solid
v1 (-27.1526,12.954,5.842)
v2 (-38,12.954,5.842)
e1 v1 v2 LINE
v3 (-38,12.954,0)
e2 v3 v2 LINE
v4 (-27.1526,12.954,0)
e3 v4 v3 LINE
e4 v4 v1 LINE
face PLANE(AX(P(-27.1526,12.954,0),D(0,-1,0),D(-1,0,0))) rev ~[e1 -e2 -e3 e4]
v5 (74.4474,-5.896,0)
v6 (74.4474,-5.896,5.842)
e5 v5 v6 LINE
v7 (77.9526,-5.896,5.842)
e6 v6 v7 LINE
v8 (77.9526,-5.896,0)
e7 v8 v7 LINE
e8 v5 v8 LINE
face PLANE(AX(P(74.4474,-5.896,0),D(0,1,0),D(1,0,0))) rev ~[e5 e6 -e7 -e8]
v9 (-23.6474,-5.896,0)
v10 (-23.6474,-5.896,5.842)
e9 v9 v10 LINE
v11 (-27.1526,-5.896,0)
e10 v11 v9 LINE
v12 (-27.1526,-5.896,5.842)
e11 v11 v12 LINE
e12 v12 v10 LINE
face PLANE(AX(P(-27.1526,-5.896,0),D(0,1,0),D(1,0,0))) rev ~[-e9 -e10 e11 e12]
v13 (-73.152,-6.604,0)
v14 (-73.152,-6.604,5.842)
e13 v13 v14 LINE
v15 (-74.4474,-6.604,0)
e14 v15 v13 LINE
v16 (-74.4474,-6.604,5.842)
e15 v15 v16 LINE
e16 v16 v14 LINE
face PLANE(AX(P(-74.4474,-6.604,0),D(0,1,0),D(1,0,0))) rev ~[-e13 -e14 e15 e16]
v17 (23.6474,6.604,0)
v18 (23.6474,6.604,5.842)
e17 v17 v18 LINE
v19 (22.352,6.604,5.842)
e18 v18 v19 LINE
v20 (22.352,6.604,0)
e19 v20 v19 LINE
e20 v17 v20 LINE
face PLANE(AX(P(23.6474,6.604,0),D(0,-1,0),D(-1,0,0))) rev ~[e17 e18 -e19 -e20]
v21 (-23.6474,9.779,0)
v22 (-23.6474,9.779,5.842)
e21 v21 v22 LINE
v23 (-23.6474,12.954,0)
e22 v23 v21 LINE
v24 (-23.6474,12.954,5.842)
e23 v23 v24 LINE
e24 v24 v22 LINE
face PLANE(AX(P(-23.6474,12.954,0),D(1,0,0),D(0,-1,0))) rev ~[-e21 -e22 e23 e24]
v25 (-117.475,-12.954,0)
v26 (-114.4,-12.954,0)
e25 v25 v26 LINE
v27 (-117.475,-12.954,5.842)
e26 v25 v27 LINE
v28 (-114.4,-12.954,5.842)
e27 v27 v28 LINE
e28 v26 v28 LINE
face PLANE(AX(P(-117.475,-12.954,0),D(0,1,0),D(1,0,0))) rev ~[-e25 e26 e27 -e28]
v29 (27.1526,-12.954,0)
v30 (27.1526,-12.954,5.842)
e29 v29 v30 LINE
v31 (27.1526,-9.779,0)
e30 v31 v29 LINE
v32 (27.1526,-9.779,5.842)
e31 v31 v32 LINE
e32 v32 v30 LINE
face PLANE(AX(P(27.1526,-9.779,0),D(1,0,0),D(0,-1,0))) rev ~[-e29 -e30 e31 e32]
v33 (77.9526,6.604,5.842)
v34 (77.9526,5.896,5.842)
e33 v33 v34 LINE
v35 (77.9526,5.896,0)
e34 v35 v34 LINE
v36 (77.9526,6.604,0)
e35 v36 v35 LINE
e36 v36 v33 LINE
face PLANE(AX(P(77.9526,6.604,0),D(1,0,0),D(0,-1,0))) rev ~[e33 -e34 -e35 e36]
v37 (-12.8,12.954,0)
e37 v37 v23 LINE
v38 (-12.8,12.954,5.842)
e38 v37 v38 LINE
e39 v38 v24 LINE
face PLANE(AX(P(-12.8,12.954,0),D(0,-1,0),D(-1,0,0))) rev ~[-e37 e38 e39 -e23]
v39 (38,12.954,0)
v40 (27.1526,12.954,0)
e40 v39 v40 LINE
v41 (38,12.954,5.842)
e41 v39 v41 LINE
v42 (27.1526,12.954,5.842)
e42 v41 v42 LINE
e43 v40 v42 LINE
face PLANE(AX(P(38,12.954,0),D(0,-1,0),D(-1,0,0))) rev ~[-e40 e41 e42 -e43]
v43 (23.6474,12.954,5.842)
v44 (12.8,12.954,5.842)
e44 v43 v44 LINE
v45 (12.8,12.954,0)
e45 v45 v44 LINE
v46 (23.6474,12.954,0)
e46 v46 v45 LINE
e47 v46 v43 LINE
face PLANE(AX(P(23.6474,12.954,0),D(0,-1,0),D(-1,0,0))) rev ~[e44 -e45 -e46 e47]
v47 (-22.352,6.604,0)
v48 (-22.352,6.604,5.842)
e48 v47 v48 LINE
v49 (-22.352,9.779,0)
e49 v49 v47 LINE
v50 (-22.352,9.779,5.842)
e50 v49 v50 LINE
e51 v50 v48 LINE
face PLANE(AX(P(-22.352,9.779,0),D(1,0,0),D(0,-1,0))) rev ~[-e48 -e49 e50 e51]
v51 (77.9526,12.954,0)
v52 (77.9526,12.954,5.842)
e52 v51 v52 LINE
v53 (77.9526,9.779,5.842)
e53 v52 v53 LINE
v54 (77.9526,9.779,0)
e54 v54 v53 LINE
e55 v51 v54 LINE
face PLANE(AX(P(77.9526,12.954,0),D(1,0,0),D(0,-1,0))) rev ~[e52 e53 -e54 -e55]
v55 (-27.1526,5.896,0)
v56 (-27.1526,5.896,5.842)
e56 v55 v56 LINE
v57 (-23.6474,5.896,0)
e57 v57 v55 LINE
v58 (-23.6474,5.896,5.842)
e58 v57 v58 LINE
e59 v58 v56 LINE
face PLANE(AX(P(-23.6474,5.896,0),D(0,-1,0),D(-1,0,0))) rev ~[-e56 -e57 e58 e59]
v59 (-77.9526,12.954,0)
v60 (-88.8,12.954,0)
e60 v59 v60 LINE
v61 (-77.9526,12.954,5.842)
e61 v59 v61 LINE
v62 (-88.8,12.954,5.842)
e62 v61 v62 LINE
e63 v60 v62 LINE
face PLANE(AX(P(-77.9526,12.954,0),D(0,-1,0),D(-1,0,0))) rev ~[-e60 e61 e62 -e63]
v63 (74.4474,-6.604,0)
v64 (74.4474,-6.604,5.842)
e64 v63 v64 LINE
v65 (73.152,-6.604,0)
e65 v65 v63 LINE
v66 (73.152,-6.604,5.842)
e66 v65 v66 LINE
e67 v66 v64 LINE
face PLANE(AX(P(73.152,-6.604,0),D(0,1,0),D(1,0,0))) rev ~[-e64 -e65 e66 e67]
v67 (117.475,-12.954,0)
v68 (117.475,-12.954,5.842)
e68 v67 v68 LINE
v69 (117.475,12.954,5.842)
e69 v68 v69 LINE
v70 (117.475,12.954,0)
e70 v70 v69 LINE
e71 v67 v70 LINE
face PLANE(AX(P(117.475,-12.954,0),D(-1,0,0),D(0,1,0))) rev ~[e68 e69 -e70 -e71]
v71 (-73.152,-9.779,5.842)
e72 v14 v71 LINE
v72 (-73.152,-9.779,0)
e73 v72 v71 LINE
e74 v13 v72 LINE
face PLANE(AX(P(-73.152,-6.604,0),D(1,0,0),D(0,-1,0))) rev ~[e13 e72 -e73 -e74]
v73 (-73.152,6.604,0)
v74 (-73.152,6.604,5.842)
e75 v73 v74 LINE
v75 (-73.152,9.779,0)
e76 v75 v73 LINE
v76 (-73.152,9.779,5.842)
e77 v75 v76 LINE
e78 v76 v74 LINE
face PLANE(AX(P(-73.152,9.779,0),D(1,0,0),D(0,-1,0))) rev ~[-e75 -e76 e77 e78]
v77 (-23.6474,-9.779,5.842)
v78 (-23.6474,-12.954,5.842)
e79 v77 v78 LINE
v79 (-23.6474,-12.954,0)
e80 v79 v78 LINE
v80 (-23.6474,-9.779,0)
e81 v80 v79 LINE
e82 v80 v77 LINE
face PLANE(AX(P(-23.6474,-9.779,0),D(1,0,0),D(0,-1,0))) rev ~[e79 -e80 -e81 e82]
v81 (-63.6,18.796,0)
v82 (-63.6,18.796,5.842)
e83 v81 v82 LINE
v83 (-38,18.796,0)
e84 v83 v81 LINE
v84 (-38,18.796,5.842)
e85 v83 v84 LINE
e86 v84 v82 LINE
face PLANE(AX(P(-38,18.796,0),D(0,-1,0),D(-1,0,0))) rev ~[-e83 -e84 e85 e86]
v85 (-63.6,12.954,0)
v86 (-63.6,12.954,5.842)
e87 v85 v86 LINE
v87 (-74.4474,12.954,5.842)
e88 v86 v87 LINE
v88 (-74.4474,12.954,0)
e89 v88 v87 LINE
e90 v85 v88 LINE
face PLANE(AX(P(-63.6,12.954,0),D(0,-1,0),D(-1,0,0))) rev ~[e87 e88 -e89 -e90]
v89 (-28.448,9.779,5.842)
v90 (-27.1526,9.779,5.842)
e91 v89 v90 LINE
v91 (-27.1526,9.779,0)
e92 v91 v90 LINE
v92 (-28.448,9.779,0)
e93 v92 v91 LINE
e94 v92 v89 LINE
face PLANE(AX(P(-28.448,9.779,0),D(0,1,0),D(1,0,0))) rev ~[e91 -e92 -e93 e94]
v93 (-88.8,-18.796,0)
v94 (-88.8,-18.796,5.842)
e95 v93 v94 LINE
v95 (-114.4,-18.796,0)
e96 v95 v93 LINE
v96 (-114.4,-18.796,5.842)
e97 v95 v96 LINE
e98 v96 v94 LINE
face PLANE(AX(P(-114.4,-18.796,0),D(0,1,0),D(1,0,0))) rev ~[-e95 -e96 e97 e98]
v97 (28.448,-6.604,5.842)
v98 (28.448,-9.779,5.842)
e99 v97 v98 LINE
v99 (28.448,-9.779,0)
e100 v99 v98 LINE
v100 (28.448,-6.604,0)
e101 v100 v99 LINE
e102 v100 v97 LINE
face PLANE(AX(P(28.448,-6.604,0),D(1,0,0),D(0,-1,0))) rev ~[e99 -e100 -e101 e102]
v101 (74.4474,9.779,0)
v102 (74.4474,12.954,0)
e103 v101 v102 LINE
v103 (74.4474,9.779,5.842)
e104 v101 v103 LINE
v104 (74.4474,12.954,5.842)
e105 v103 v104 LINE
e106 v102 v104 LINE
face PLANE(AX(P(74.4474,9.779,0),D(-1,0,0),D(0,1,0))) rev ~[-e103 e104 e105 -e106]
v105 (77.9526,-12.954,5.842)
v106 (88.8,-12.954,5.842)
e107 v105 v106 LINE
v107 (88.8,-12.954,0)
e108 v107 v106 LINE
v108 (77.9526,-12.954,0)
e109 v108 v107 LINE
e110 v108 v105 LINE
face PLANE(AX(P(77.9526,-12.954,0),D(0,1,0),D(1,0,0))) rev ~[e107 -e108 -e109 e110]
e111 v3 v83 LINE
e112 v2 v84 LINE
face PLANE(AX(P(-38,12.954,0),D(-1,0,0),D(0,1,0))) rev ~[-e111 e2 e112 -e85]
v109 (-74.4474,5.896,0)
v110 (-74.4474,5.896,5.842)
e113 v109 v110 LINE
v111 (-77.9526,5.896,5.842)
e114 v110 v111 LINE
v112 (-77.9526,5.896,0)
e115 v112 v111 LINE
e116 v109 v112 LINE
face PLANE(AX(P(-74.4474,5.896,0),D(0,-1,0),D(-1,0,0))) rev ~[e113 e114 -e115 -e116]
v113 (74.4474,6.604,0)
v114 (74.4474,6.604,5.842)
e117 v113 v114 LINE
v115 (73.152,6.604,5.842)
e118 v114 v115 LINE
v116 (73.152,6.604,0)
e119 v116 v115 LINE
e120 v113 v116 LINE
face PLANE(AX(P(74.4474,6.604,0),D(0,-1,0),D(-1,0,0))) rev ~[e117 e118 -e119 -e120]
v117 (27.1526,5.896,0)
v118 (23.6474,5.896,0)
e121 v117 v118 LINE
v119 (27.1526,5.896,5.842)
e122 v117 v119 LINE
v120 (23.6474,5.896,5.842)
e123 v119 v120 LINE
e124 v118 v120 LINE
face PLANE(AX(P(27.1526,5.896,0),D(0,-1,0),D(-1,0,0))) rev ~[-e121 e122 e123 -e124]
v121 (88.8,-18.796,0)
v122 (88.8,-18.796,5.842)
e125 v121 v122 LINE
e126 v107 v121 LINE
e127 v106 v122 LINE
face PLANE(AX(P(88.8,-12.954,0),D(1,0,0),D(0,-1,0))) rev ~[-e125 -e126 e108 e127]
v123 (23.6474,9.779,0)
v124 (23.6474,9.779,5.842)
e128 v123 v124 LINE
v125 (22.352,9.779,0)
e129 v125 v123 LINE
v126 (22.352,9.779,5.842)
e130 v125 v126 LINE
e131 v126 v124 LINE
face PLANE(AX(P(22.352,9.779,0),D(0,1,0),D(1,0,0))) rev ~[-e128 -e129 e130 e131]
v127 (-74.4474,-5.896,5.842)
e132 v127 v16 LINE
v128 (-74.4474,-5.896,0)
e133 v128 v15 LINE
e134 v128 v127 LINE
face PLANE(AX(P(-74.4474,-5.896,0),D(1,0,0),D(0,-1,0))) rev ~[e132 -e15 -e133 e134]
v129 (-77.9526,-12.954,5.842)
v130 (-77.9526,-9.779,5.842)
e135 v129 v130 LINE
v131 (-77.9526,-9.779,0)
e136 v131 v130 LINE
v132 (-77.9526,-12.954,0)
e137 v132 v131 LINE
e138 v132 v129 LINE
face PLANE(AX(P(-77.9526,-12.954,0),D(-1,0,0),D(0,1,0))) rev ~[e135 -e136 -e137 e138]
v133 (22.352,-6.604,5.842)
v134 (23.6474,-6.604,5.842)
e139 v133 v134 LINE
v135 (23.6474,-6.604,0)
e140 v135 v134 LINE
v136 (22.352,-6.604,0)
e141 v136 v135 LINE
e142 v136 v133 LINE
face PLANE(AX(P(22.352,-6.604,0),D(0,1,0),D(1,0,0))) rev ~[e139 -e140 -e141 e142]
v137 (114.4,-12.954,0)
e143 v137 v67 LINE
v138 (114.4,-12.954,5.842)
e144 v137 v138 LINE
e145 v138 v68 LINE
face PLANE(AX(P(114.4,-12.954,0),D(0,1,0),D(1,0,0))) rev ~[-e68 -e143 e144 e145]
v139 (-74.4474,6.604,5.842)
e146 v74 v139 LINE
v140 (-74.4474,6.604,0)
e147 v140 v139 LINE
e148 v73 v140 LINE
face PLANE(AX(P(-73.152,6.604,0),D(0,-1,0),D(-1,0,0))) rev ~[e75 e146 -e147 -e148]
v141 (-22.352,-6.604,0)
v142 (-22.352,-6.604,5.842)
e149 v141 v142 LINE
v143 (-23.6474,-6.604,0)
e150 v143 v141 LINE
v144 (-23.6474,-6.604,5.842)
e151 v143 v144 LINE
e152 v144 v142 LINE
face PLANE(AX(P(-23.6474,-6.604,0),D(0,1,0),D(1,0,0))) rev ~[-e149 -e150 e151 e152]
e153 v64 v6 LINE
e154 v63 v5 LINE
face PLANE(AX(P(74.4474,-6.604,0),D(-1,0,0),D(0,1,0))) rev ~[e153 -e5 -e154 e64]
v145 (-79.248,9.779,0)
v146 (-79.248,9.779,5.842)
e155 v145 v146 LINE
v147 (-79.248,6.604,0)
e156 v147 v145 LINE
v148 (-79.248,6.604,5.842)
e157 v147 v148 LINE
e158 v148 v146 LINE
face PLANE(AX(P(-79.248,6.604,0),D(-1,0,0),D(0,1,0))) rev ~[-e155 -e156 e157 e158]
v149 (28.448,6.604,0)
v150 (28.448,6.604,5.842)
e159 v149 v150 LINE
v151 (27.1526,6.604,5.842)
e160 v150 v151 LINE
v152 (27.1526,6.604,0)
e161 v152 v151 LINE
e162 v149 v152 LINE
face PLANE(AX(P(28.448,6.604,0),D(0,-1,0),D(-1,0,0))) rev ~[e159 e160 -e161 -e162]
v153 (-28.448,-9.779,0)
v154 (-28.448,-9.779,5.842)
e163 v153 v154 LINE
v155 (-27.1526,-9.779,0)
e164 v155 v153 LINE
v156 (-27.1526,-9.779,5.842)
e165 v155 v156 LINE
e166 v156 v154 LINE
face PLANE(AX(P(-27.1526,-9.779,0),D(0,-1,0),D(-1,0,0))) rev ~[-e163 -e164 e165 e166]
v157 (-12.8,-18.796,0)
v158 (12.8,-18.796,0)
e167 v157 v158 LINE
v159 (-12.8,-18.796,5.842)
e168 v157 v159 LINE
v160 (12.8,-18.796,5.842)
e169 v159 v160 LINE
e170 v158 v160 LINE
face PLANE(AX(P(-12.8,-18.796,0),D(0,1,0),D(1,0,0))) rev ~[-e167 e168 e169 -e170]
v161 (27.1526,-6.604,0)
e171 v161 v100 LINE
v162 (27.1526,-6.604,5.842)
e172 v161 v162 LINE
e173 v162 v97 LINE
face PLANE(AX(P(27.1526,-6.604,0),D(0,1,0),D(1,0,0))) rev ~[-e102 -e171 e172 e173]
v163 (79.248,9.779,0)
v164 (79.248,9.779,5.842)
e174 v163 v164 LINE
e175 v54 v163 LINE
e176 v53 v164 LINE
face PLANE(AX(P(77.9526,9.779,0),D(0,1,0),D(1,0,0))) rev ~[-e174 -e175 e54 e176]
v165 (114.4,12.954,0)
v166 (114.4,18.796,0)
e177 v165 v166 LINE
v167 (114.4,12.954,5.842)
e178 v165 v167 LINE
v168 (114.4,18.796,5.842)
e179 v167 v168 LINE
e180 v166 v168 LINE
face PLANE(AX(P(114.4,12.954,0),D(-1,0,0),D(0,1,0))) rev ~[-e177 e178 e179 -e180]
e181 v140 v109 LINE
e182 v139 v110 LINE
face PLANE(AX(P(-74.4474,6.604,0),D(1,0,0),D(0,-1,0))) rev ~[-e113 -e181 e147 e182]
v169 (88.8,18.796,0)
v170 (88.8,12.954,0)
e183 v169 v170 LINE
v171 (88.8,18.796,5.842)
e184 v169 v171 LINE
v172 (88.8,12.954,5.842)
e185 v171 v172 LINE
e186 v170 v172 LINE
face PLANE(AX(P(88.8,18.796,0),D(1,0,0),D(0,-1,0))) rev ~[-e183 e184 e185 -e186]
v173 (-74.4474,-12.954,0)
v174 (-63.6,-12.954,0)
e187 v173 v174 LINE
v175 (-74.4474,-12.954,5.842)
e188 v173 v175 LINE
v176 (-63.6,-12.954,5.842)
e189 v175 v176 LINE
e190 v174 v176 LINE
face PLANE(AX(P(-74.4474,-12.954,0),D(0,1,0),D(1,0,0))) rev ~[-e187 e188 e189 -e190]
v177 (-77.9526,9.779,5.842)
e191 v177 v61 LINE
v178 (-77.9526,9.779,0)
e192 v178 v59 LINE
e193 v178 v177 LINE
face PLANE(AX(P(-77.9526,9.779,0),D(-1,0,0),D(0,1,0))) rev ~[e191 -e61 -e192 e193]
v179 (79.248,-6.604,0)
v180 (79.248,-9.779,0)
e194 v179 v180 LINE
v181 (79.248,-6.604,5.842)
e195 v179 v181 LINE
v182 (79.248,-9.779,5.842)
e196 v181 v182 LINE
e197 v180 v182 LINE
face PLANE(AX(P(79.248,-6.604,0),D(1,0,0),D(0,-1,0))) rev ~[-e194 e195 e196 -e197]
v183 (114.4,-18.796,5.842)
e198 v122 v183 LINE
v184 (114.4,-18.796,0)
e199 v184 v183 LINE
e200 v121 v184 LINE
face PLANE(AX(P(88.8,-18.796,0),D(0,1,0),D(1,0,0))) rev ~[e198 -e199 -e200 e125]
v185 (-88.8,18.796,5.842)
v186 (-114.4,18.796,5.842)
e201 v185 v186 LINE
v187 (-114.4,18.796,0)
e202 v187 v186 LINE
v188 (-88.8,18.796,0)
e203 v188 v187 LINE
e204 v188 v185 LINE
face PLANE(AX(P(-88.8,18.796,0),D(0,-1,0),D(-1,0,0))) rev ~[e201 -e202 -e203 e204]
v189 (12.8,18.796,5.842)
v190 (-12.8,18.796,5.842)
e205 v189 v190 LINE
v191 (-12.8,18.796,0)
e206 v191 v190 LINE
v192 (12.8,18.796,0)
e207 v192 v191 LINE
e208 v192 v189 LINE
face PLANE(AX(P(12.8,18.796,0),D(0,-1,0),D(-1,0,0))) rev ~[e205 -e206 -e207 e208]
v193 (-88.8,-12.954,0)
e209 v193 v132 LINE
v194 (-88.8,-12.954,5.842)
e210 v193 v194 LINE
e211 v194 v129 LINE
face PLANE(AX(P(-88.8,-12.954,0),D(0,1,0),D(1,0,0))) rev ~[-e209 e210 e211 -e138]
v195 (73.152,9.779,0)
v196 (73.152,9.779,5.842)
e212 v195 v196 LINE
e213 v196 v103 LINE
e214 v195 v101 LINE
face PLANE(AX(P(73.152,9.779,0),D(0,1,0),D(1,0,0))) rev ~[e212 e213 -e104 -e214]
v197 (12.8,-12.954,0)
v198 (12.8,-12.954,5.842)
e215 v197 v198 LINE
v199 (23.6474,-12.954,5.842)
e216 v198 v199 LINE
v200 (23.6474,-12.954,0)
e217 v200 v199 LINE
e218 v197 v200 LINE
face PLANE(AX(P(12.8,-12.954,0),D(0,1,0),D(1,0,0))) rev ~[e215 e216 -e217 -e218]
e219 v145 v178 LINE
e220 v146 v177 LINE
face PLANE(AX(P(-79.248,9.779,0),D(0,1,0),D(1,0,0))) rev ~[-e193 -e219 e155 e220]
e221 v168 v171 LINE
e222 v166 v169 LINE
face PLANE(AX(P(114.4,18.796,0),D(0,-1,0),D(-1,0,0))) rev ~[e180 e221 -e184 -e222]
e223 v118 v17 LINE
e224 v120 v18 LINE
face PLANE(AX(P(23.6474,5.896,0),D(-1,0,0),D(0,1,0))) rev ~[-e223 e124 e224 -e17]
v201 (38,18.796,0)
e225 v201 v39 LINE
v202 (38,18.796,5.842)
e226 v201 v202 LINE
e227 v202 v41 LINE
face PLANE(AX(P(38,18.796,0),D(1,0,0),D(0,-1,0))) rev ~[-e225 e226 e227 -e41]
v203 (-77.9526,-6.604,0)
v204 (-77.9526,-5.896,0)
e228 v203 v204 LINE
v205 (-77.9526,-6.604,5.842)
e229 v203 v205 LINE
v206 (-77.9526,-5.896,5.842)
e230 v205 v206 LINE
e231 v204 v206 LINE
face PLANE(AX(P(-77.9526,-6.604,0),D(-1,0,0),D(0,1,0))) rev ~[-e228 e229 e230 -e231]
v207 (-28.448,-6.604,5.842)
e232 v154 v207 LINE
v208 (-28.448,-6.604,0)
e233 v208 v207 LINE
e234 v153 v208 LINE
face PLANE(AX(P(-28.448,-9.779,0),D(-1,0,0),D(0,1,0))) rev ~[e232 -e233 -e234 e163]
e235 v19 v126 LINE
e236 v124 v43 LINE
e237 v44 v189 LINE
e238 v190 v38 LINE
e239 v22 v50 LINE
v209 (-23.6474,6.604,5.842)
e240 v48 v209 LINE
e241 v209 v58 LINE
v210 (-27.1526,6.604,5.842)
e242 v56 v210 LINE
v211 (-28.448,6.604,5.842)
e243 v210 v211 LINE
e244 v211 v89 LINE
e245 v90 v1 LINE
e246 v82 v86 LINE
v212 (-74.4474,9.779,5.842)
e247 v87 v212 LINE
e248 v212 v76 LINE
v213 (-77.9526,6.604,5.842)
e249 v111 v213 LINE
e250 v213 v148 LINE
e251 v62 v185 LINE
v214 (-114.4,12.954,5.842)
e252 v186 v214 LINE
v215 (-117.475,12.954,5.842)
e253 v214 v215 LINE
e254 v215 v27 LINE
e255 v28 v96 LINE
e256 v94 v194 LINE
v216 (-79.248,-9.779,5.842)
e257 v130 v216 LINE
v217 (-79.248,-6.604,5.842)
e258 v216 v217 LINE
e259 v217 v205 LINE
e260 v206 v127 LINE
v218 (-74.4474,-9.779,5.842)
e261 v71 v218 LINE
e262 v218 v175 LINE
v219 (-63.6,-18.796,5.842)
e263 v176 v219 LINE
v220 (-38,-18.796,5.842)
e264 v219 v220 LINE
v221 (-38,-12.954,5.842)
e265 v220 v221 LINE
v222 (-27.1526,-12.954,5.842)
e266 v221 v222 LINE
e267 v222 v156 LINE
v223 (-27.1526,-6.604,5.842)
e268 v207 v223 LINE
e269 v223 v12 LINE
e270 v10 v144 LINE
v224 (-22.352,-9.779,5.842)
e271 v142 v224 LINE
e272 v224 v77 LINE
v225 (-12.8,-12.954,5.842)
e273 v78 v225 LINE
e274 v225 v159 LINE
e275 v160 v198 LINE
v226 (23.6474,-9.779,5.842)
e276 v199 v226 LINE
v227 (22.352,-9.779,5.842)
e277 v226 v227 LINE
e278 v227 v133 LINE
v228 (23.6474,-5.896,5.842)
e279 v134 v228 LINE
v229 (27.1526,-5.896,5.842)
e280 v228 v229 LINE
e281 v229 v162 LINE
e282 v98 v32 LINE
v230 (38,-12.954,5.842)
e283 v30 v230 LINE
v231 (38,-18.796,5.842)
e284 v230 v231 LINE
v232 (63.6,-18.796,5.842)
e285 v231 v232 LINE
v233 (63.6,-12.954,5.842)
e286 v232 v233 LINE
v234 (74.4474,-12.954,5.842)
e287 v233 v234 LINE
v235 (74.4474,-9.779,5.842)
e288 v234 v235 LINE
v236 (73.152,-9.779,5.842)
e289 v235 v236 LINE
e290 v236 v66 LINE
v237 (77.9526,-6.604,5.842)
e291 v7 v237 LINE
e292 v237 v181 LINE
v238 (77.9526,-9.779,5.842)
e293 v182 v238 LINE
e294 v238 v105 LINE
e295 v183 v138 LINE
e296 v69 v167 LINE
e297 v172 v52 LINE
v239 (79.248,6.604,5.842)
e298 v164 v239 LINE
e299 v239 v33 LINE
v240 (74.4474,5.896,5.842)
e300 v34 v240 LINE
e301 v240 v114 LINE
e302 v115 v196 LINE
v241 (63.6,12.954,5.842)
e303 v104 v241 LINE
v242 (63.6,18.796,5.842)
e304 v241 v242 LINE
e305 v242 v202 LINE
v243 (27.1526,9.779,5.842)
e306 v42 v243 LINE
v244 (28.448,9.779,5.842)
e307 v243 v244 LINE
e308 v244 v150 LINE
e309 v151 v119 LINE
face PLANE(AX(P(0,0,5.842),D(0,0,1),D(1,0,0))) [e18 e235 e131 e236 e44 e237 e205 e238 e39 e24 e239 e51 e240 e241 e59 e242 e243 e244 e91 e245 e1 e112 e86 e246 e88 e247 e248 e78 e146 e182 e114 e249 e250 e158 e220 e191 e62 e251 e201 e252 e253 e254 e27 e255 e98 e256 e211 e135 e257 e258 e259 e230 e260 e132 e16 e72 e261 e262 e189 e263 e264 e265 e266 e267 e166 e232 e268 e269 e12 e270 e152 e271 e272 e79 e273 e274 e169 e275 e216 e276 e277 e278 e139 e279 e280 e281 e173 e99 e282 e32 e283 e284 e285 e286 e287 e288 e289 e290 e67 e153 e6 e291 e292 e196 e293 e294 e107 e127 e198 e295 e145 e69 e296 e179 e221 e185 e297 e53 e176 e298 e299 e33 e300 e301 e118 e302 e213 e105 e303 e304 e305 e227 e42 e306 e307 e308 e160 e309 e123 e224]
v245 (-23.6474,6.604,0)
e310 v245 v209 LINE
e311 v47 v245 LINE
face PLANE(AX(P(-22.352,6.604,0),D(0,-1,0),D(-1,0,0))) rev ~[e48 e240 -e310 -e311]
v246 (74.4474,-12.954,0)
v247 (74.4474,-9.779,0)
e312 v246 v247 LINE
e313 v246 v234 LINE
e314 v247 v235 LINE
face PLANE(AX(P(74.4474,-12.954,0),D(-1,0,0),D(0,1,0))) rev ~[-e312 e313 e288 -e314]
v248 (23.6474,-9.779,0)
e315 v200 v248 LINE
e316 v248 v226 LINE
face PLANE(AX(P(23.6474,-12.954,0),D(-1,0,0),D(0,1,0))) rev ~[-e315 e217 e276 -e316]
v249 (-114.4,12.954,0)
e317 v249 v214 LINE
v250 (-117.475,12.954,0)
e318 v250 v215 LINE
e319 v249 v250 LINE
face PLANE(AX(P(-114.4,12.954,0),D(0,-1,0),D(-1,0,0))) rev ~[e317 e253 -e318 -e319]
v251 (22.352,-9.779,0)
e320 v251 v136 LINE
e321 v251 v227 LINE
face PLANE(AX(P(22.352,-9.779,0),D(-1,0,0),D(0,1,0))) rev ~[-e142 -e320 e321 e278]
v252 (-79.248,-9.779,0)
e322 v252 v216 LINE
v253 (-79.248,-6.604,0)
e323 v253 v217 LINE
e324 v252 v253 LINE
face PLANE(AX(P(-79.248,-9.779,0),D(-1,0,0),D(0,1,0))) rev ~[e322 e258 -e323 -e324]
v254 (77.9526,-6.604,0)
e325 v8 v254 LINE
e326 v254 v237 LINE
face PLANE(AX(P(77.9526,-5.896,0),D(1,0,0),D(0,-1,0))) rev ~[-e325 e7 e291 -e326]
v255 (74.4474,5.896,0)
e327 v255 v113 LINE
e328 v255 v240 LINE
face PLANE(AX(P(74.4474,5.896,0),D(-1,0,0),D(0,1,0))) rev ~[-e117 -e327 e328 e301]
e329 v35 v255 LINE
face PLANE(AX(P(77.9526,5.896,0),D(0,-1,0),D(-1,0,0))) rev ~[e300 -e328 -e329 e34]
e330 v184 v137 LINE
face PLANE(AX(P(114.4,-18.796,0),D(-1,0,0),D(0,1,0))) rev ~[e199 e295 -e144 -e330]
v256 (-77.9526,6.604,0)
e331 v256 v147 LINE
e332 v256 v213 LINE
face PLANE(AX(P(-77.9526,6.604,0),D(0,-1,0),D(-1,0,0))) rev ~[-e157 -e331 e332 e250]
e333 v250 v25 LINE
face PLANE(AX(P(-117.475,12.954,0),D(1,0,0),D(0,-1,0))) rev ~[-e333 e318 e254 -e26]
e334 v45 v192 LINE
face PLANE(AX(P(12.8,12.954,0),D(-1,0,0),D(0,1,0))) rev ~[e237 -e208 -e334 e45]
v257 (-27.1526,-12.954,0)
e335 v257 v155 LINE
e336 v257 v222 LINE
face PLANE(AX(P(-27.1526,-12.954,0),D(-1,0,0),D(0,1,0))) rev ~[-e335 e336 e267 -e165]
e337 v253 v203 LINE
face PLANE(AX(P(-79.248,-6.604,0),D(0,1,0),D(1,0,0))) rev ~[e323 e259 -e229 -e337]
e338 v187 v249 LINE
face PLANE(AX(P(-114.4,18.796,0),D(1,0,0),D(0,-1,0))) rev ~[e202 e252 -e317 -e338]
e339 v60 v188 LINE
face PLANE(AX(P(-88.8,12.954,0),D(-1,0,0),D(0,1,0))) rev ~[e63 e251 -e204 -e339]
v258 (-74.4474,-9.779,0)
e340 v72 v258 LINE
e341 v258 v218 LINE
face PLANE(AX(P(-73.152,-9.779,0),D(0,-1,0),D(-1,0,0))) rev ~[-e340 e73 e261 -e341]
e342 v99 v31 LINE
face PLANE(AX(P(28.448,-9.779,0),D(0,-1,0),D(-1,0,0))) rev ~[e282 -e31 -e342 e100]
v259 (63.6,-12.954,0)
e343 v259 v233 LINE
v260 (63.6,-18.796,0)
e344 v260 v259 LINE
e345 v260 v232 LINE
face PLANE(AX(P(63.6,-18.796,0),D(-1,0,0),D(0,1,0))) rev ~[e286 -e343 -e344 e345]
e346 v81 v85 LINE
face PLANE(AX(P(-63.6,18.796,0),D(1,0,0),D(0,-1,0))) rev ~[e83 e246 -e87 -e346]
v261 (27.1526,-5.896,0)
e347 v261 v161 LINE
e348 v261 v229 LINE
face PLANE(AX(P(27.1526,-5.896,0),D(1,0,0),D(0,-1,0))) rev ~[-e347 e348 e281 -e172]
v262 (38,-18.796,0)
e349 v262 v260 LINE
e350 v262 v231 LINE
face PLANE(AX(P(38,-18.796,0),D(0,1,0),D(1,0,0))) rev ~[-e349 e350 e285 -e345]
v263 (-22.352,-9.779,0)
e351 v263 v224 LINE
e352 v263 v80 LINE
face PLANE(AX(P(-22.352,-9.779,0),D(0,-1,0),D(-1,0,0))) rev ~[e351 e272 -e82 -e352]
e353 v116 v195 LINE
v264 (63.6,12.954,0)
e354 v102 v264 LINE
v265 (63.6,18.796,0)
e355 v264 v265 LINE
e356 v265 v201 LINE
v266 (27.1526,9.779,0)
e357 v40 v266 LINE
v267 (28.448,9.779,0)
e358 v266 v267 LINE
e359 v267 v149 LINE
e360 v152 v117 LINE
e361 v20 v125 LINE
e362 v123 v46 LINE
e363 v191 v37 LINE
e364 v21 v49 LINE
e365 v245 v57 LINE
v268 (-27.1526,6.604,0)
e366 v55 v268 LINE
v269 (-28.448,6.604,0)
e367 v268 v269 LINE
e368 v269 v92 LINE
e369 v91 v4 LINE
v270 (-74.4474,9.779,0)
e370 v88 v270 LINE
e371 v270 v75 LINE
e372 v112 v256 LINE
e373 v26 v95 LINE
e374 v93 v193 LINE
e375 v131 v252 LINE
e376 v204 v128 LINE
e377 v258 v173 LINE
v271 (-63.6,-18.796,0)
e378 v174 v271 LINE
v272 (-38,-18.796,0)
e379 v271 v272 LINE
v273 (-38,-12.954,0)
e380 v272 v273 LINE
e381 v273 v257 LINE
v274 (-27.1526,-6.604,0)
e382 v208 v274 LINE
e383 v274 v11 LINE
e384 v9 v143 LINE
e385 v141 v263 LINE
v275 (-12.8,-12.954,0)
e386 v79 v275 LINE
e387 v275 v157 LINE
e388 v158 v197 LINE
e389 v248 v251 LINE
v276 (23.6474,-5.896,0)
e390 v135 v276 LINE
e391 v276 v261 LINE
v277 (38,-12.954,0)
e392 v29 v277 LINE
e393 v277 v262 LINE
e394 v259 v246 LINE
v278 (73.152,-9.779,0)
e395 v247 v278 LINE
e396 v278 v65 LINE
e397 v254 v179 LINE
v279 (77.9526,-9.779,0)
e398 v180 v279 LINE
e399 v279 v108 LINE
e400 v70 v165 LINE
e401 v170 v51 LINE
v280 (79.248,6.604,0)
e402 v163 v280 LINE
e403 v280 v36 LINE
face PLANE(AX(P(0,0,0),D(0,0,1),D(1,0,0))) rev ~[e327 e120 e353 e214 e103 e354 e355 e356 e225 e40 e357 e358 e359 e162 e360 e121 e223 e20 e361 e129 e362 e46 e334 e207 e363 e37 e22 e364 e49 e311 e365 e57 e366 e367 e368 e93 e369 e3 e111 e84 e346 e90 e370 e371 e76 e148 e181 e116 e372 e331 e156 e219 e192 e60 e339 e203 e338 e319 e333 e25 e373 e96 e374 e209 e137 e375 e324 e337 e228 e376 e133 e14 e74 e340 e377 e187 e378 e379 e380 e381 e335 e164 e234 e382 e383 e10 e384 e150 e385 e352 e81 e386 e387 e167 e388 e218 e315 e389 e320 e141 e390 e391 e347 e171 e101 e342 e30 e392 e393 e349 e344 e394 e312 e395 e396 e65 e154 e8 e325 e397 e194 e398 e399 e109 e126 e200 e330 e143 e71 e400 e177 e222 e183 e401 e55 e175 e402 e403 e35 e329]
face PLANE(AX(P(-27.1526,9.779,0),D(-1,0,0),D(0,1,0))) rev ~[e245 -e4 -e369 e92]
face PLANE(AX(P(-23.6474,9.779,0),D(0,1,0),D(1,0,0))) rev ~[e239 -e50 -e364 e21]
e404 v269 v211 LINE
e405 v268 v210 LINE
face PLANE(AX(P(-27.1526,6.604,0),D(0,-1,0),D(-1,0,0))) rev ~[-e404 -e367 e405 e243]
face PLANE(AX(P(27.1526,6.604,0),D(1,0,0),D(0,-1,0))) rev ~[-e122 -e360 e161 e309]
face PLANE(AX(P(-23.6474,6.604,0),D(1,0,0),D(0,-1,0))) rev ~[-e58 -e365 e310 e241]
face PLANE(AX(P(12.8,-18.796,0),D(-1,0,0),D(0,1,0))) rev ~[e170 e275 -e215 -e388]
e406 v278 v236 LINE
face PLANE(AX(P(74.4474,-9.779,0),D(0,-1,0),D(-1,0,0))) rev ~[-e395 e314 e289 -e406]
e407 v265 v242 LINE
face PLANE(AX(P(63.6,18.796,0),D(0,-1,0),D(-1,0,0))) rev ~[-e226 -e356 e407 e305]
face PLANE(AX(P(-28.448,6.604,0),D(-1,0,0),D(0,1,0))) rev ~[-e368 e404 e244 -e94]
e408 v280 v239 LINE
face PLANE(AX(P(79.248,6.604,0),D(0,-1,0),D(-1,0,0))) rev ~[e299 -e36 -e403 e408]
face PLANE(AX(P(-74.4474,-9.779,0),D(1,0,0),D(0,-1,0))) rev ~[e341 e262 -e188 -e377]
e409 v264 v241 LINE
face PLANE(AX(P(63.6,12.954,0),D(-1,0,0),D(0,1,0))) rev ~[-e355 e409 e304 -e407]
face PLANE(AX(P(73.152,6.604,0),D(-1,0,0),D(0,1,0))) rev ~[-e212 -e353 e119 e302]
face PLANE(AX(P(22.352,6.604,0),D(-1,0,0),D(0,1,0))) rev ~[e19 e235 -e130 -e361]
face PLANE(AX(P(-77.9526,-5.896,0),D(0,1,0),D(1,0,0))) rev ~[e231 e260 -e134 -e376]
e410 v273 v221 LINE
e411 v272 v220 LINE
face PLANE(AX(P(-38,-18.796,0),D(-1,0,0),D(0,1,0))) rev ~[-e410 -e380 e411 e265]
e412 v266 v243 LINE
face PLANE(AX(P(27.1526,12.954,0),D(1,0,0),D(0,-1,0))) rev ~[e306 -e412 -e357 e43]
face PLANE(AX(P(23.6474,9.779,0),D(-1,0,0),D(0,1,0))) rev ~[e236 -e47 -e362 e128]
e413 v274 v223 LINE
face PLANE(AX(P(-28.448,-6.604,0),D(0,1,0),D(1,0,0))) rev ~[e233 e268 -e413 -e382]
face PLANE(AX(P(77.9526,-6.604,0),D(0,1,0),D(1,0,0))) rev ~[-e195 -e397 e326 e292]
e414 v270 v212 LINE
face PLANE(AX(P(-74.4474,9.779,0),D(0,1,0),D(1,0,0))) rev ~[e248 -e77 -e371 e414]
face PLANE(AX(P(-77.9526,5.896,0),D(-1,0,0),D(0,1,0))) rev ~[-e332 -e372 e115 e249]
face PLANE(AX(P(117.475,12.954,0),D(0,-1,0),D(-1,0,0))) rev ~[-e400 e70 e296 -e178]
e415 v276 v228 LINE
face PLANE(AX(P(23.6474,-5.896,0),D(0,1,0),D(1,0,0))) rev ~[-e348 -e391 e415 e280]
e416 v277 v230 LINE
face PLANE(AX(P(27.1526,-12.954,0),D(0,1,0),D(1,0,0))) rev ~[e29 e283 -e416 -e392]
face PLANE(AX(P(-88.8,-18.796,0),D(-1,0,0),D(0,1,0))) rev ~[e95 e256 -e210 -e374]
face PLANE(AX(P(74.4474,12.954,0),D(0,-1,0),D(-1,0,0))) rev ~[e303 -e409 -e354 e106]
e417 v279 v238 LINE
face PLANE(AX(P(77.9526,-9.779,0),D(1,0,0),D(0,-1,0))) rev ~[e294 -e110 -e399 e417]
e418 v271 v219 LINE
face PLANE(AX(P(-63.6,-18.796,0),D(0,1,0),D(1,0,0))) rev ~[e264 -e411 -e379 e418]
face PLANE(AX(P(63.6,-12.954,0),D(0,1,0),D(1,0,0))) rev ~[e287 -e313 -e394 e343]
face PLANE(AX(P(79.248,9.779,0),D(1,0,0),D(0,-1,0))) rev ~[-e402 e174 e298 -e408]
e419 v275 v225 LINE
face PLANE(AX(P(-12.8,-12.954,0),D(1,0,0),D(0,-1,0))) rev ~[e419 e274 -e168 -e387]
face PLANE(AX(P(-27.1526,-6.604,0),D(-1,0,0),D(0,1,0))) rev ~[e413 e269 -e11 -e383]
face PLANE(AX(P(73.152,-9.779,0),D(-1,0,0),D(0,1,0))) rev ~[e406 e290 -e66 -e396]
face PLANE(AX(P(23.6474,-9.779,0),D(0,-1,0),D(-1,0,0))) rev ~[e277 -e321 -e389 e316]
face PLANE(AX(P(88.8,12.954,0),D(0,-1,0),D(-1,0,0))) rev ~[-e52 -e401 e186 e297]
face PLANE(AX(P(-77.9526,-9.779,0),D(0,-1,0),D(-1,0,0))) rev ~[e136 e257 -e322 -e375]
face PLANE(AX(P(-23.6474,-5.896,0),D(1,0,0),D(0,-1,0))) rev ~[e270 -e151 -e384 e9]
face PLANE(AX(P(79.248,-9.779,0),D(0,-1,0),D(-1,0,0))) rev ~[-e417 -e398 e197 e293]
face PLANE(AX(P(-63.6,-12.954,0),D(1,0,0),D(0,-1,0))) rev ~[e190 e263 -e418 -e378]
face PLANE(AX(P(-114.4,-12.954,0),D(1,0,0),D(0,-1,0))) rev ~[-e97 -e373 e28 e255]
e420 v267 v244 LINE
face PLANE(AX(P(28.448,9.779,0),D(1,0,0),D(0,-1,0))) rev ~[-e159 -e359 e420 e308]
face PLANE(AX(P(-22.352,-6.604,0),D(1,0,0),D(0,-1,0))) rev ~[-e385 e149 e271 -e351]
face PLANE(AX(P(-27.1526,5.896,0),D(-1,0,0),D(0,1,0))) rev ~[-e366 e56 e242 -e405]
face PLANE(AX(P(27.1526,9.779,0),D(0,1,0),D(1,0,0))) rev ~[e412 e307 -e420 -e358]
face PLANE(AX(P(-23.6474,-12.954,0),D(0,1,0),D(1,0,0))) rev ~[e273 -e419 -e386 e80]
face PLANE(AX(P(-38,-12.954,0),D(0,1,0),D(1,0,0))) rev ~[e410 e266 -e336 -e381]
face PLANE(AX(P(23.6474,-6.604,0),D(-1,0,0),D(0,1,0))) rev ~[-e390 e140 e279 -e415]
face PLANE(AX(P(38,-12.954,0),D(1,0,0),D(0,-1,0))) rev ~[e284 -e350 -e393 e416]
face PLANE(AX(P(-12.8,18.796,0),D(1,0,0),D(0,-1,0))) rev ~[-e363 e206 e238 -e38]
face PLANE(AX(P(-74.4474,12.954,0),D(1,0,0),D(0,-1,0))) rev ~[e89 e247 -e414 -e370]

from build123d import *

# Parameters (mm, degrees)
BOSS_EXTRUDE1_DEPTH = 5.842


with BuildPart() as part:
    # Sketch1 → Boss-Extrude1 (new body)
    with BuildSketch(Plane.XY):
        Polygon((-38, 18.796), (-63.6, 18.796), (-63.6, 12.954), (-74.4474, 12.954), (-74.4474, 9.779), (-73.152, 9.779), (-73.152, 6.604), (-74.4474, 6.604), (-74.4474, 5.896), (-77.9526, 5.896), (-77.9526, 6.604), (-79.248, 6.604), (-79.248, 9.779), (-77.9526, 9.779), (-77.9526, 12.954), (-88.8, 12.954), (-88.8, 18.796), (-114.4, 18.796), (-114.4, 12.954), (-117.475, 12.954), (-117.475, -12.954), (-114.4, -12.954), (-114.4, -18.796), (-88.8, -18.796), (-88.8, -12.954), (-77.9526, -12.954), (-77.9526, -9.779), (-79.248, -9.779), (-79.248, -6.604), (-77.9526, -6.604), (-77.9526, -5.896), (-74.4474, -5.896), (-74.4474, -6.604), (-73.152, -6.604), (-73.152, -9.779), (-74.4474, -9.779), (-74.4474, -12.954), (-63.6, -12.954), (-63.6, -18.796), (-38, -18.796), (-38, -12.954), (-27.1526, -12.954), (-27.1526, -9.779), (-28.448, -9.779), (-28.448, -6.604), (-27.1526, -6.604), (-27.1526, -5.896), (-23.6474, -5.896), (-23.6474, -6.604), (-22.352, -6.604), (-22.352, -9.779), (-23.6474, -9.779), (-23.6474, -12.954), (-12.8, -12.954), (-12.8, -18.796), (12.8, -18.796), (12.8, -12.954), (23.6474, -12.954), (23.6474, -9.779), (22.352, -9.779), (22.352, -6.604), (23.6474, -6.604), (23.6474, -5.896), (27.1526, -5.896), (27.1526, -6.604), (28.448, -6.604), (28.448, -9.779), (27.1526, -9.779), (27.1526, -12.954), (38, -12.954), (38, -18.796), (63.6, -18.796), (63.6, -12.954), (74.4474, -12.954), (74.4474, -9.779), (73.152, -9.779), (73.152, -6.604), (74.4474, -6.604), (74.4474, -5.896), (77.9526, -5.896), (77.9526, -6.604), (79.248, -6.604), (79.248, -9.779), (77.9526, -9.779), (77.9526, -12.954), (88.8, -12.954), (88.8, -18.796), (114.4, -18.796), (114.4, -12.954), (117.475, -12.954), (117.475, 12.954), (114.4, 12.954), (114.4, 18.796), (88.8, 18.796), (88.8, 12.954), (77.9526, 12.954), (77.9526, 9.779), (79.248, 9.779), (79.248, 6.604), (77.9526, 6.604), (77.9526, 5.896), (74.4474, 5.896), (74.4474, 6.604), (73.152, 6.604), (73.152, 9.779), (74.4474, 9.779), (74.4474, 12.954), (63.6, 12.954), (63.6, 18.796), (38, 18.796), (38, 12.954), (27.1526, 12.954), (27.1526, 9.779), (28.448, 9.779), (28.448, 6.604), (27.1526, 6.604), (27.1526, 5.896), (23.6474, 5.896), (23.6474, 6.604), (22.352, 6.604), (22.352, 9.779), (23.6474, 9.779), (23.6474, 12.954), (12.8, 12.954), (12.8, 18.796), (-12.8, 18.796), (-12.8, 12.954), (-23.6474, 12.954), (-23.6474, 9.779), (-22.352, 9.779), (-22.352, 6.604), (-23.6474, 6.604), (-23.6474, 5.896), (-27.1526, 5.896), (-27.1526, 6.604), (-28.448, 6.604), (-28.448, 9.779), (-27.1526, 9.779), (-27.1526, 12.954), (-38, 12.954), align=None)
    extrude(amount=BOSS_EXTRUDE1_DEPTH)


solid = part.part
